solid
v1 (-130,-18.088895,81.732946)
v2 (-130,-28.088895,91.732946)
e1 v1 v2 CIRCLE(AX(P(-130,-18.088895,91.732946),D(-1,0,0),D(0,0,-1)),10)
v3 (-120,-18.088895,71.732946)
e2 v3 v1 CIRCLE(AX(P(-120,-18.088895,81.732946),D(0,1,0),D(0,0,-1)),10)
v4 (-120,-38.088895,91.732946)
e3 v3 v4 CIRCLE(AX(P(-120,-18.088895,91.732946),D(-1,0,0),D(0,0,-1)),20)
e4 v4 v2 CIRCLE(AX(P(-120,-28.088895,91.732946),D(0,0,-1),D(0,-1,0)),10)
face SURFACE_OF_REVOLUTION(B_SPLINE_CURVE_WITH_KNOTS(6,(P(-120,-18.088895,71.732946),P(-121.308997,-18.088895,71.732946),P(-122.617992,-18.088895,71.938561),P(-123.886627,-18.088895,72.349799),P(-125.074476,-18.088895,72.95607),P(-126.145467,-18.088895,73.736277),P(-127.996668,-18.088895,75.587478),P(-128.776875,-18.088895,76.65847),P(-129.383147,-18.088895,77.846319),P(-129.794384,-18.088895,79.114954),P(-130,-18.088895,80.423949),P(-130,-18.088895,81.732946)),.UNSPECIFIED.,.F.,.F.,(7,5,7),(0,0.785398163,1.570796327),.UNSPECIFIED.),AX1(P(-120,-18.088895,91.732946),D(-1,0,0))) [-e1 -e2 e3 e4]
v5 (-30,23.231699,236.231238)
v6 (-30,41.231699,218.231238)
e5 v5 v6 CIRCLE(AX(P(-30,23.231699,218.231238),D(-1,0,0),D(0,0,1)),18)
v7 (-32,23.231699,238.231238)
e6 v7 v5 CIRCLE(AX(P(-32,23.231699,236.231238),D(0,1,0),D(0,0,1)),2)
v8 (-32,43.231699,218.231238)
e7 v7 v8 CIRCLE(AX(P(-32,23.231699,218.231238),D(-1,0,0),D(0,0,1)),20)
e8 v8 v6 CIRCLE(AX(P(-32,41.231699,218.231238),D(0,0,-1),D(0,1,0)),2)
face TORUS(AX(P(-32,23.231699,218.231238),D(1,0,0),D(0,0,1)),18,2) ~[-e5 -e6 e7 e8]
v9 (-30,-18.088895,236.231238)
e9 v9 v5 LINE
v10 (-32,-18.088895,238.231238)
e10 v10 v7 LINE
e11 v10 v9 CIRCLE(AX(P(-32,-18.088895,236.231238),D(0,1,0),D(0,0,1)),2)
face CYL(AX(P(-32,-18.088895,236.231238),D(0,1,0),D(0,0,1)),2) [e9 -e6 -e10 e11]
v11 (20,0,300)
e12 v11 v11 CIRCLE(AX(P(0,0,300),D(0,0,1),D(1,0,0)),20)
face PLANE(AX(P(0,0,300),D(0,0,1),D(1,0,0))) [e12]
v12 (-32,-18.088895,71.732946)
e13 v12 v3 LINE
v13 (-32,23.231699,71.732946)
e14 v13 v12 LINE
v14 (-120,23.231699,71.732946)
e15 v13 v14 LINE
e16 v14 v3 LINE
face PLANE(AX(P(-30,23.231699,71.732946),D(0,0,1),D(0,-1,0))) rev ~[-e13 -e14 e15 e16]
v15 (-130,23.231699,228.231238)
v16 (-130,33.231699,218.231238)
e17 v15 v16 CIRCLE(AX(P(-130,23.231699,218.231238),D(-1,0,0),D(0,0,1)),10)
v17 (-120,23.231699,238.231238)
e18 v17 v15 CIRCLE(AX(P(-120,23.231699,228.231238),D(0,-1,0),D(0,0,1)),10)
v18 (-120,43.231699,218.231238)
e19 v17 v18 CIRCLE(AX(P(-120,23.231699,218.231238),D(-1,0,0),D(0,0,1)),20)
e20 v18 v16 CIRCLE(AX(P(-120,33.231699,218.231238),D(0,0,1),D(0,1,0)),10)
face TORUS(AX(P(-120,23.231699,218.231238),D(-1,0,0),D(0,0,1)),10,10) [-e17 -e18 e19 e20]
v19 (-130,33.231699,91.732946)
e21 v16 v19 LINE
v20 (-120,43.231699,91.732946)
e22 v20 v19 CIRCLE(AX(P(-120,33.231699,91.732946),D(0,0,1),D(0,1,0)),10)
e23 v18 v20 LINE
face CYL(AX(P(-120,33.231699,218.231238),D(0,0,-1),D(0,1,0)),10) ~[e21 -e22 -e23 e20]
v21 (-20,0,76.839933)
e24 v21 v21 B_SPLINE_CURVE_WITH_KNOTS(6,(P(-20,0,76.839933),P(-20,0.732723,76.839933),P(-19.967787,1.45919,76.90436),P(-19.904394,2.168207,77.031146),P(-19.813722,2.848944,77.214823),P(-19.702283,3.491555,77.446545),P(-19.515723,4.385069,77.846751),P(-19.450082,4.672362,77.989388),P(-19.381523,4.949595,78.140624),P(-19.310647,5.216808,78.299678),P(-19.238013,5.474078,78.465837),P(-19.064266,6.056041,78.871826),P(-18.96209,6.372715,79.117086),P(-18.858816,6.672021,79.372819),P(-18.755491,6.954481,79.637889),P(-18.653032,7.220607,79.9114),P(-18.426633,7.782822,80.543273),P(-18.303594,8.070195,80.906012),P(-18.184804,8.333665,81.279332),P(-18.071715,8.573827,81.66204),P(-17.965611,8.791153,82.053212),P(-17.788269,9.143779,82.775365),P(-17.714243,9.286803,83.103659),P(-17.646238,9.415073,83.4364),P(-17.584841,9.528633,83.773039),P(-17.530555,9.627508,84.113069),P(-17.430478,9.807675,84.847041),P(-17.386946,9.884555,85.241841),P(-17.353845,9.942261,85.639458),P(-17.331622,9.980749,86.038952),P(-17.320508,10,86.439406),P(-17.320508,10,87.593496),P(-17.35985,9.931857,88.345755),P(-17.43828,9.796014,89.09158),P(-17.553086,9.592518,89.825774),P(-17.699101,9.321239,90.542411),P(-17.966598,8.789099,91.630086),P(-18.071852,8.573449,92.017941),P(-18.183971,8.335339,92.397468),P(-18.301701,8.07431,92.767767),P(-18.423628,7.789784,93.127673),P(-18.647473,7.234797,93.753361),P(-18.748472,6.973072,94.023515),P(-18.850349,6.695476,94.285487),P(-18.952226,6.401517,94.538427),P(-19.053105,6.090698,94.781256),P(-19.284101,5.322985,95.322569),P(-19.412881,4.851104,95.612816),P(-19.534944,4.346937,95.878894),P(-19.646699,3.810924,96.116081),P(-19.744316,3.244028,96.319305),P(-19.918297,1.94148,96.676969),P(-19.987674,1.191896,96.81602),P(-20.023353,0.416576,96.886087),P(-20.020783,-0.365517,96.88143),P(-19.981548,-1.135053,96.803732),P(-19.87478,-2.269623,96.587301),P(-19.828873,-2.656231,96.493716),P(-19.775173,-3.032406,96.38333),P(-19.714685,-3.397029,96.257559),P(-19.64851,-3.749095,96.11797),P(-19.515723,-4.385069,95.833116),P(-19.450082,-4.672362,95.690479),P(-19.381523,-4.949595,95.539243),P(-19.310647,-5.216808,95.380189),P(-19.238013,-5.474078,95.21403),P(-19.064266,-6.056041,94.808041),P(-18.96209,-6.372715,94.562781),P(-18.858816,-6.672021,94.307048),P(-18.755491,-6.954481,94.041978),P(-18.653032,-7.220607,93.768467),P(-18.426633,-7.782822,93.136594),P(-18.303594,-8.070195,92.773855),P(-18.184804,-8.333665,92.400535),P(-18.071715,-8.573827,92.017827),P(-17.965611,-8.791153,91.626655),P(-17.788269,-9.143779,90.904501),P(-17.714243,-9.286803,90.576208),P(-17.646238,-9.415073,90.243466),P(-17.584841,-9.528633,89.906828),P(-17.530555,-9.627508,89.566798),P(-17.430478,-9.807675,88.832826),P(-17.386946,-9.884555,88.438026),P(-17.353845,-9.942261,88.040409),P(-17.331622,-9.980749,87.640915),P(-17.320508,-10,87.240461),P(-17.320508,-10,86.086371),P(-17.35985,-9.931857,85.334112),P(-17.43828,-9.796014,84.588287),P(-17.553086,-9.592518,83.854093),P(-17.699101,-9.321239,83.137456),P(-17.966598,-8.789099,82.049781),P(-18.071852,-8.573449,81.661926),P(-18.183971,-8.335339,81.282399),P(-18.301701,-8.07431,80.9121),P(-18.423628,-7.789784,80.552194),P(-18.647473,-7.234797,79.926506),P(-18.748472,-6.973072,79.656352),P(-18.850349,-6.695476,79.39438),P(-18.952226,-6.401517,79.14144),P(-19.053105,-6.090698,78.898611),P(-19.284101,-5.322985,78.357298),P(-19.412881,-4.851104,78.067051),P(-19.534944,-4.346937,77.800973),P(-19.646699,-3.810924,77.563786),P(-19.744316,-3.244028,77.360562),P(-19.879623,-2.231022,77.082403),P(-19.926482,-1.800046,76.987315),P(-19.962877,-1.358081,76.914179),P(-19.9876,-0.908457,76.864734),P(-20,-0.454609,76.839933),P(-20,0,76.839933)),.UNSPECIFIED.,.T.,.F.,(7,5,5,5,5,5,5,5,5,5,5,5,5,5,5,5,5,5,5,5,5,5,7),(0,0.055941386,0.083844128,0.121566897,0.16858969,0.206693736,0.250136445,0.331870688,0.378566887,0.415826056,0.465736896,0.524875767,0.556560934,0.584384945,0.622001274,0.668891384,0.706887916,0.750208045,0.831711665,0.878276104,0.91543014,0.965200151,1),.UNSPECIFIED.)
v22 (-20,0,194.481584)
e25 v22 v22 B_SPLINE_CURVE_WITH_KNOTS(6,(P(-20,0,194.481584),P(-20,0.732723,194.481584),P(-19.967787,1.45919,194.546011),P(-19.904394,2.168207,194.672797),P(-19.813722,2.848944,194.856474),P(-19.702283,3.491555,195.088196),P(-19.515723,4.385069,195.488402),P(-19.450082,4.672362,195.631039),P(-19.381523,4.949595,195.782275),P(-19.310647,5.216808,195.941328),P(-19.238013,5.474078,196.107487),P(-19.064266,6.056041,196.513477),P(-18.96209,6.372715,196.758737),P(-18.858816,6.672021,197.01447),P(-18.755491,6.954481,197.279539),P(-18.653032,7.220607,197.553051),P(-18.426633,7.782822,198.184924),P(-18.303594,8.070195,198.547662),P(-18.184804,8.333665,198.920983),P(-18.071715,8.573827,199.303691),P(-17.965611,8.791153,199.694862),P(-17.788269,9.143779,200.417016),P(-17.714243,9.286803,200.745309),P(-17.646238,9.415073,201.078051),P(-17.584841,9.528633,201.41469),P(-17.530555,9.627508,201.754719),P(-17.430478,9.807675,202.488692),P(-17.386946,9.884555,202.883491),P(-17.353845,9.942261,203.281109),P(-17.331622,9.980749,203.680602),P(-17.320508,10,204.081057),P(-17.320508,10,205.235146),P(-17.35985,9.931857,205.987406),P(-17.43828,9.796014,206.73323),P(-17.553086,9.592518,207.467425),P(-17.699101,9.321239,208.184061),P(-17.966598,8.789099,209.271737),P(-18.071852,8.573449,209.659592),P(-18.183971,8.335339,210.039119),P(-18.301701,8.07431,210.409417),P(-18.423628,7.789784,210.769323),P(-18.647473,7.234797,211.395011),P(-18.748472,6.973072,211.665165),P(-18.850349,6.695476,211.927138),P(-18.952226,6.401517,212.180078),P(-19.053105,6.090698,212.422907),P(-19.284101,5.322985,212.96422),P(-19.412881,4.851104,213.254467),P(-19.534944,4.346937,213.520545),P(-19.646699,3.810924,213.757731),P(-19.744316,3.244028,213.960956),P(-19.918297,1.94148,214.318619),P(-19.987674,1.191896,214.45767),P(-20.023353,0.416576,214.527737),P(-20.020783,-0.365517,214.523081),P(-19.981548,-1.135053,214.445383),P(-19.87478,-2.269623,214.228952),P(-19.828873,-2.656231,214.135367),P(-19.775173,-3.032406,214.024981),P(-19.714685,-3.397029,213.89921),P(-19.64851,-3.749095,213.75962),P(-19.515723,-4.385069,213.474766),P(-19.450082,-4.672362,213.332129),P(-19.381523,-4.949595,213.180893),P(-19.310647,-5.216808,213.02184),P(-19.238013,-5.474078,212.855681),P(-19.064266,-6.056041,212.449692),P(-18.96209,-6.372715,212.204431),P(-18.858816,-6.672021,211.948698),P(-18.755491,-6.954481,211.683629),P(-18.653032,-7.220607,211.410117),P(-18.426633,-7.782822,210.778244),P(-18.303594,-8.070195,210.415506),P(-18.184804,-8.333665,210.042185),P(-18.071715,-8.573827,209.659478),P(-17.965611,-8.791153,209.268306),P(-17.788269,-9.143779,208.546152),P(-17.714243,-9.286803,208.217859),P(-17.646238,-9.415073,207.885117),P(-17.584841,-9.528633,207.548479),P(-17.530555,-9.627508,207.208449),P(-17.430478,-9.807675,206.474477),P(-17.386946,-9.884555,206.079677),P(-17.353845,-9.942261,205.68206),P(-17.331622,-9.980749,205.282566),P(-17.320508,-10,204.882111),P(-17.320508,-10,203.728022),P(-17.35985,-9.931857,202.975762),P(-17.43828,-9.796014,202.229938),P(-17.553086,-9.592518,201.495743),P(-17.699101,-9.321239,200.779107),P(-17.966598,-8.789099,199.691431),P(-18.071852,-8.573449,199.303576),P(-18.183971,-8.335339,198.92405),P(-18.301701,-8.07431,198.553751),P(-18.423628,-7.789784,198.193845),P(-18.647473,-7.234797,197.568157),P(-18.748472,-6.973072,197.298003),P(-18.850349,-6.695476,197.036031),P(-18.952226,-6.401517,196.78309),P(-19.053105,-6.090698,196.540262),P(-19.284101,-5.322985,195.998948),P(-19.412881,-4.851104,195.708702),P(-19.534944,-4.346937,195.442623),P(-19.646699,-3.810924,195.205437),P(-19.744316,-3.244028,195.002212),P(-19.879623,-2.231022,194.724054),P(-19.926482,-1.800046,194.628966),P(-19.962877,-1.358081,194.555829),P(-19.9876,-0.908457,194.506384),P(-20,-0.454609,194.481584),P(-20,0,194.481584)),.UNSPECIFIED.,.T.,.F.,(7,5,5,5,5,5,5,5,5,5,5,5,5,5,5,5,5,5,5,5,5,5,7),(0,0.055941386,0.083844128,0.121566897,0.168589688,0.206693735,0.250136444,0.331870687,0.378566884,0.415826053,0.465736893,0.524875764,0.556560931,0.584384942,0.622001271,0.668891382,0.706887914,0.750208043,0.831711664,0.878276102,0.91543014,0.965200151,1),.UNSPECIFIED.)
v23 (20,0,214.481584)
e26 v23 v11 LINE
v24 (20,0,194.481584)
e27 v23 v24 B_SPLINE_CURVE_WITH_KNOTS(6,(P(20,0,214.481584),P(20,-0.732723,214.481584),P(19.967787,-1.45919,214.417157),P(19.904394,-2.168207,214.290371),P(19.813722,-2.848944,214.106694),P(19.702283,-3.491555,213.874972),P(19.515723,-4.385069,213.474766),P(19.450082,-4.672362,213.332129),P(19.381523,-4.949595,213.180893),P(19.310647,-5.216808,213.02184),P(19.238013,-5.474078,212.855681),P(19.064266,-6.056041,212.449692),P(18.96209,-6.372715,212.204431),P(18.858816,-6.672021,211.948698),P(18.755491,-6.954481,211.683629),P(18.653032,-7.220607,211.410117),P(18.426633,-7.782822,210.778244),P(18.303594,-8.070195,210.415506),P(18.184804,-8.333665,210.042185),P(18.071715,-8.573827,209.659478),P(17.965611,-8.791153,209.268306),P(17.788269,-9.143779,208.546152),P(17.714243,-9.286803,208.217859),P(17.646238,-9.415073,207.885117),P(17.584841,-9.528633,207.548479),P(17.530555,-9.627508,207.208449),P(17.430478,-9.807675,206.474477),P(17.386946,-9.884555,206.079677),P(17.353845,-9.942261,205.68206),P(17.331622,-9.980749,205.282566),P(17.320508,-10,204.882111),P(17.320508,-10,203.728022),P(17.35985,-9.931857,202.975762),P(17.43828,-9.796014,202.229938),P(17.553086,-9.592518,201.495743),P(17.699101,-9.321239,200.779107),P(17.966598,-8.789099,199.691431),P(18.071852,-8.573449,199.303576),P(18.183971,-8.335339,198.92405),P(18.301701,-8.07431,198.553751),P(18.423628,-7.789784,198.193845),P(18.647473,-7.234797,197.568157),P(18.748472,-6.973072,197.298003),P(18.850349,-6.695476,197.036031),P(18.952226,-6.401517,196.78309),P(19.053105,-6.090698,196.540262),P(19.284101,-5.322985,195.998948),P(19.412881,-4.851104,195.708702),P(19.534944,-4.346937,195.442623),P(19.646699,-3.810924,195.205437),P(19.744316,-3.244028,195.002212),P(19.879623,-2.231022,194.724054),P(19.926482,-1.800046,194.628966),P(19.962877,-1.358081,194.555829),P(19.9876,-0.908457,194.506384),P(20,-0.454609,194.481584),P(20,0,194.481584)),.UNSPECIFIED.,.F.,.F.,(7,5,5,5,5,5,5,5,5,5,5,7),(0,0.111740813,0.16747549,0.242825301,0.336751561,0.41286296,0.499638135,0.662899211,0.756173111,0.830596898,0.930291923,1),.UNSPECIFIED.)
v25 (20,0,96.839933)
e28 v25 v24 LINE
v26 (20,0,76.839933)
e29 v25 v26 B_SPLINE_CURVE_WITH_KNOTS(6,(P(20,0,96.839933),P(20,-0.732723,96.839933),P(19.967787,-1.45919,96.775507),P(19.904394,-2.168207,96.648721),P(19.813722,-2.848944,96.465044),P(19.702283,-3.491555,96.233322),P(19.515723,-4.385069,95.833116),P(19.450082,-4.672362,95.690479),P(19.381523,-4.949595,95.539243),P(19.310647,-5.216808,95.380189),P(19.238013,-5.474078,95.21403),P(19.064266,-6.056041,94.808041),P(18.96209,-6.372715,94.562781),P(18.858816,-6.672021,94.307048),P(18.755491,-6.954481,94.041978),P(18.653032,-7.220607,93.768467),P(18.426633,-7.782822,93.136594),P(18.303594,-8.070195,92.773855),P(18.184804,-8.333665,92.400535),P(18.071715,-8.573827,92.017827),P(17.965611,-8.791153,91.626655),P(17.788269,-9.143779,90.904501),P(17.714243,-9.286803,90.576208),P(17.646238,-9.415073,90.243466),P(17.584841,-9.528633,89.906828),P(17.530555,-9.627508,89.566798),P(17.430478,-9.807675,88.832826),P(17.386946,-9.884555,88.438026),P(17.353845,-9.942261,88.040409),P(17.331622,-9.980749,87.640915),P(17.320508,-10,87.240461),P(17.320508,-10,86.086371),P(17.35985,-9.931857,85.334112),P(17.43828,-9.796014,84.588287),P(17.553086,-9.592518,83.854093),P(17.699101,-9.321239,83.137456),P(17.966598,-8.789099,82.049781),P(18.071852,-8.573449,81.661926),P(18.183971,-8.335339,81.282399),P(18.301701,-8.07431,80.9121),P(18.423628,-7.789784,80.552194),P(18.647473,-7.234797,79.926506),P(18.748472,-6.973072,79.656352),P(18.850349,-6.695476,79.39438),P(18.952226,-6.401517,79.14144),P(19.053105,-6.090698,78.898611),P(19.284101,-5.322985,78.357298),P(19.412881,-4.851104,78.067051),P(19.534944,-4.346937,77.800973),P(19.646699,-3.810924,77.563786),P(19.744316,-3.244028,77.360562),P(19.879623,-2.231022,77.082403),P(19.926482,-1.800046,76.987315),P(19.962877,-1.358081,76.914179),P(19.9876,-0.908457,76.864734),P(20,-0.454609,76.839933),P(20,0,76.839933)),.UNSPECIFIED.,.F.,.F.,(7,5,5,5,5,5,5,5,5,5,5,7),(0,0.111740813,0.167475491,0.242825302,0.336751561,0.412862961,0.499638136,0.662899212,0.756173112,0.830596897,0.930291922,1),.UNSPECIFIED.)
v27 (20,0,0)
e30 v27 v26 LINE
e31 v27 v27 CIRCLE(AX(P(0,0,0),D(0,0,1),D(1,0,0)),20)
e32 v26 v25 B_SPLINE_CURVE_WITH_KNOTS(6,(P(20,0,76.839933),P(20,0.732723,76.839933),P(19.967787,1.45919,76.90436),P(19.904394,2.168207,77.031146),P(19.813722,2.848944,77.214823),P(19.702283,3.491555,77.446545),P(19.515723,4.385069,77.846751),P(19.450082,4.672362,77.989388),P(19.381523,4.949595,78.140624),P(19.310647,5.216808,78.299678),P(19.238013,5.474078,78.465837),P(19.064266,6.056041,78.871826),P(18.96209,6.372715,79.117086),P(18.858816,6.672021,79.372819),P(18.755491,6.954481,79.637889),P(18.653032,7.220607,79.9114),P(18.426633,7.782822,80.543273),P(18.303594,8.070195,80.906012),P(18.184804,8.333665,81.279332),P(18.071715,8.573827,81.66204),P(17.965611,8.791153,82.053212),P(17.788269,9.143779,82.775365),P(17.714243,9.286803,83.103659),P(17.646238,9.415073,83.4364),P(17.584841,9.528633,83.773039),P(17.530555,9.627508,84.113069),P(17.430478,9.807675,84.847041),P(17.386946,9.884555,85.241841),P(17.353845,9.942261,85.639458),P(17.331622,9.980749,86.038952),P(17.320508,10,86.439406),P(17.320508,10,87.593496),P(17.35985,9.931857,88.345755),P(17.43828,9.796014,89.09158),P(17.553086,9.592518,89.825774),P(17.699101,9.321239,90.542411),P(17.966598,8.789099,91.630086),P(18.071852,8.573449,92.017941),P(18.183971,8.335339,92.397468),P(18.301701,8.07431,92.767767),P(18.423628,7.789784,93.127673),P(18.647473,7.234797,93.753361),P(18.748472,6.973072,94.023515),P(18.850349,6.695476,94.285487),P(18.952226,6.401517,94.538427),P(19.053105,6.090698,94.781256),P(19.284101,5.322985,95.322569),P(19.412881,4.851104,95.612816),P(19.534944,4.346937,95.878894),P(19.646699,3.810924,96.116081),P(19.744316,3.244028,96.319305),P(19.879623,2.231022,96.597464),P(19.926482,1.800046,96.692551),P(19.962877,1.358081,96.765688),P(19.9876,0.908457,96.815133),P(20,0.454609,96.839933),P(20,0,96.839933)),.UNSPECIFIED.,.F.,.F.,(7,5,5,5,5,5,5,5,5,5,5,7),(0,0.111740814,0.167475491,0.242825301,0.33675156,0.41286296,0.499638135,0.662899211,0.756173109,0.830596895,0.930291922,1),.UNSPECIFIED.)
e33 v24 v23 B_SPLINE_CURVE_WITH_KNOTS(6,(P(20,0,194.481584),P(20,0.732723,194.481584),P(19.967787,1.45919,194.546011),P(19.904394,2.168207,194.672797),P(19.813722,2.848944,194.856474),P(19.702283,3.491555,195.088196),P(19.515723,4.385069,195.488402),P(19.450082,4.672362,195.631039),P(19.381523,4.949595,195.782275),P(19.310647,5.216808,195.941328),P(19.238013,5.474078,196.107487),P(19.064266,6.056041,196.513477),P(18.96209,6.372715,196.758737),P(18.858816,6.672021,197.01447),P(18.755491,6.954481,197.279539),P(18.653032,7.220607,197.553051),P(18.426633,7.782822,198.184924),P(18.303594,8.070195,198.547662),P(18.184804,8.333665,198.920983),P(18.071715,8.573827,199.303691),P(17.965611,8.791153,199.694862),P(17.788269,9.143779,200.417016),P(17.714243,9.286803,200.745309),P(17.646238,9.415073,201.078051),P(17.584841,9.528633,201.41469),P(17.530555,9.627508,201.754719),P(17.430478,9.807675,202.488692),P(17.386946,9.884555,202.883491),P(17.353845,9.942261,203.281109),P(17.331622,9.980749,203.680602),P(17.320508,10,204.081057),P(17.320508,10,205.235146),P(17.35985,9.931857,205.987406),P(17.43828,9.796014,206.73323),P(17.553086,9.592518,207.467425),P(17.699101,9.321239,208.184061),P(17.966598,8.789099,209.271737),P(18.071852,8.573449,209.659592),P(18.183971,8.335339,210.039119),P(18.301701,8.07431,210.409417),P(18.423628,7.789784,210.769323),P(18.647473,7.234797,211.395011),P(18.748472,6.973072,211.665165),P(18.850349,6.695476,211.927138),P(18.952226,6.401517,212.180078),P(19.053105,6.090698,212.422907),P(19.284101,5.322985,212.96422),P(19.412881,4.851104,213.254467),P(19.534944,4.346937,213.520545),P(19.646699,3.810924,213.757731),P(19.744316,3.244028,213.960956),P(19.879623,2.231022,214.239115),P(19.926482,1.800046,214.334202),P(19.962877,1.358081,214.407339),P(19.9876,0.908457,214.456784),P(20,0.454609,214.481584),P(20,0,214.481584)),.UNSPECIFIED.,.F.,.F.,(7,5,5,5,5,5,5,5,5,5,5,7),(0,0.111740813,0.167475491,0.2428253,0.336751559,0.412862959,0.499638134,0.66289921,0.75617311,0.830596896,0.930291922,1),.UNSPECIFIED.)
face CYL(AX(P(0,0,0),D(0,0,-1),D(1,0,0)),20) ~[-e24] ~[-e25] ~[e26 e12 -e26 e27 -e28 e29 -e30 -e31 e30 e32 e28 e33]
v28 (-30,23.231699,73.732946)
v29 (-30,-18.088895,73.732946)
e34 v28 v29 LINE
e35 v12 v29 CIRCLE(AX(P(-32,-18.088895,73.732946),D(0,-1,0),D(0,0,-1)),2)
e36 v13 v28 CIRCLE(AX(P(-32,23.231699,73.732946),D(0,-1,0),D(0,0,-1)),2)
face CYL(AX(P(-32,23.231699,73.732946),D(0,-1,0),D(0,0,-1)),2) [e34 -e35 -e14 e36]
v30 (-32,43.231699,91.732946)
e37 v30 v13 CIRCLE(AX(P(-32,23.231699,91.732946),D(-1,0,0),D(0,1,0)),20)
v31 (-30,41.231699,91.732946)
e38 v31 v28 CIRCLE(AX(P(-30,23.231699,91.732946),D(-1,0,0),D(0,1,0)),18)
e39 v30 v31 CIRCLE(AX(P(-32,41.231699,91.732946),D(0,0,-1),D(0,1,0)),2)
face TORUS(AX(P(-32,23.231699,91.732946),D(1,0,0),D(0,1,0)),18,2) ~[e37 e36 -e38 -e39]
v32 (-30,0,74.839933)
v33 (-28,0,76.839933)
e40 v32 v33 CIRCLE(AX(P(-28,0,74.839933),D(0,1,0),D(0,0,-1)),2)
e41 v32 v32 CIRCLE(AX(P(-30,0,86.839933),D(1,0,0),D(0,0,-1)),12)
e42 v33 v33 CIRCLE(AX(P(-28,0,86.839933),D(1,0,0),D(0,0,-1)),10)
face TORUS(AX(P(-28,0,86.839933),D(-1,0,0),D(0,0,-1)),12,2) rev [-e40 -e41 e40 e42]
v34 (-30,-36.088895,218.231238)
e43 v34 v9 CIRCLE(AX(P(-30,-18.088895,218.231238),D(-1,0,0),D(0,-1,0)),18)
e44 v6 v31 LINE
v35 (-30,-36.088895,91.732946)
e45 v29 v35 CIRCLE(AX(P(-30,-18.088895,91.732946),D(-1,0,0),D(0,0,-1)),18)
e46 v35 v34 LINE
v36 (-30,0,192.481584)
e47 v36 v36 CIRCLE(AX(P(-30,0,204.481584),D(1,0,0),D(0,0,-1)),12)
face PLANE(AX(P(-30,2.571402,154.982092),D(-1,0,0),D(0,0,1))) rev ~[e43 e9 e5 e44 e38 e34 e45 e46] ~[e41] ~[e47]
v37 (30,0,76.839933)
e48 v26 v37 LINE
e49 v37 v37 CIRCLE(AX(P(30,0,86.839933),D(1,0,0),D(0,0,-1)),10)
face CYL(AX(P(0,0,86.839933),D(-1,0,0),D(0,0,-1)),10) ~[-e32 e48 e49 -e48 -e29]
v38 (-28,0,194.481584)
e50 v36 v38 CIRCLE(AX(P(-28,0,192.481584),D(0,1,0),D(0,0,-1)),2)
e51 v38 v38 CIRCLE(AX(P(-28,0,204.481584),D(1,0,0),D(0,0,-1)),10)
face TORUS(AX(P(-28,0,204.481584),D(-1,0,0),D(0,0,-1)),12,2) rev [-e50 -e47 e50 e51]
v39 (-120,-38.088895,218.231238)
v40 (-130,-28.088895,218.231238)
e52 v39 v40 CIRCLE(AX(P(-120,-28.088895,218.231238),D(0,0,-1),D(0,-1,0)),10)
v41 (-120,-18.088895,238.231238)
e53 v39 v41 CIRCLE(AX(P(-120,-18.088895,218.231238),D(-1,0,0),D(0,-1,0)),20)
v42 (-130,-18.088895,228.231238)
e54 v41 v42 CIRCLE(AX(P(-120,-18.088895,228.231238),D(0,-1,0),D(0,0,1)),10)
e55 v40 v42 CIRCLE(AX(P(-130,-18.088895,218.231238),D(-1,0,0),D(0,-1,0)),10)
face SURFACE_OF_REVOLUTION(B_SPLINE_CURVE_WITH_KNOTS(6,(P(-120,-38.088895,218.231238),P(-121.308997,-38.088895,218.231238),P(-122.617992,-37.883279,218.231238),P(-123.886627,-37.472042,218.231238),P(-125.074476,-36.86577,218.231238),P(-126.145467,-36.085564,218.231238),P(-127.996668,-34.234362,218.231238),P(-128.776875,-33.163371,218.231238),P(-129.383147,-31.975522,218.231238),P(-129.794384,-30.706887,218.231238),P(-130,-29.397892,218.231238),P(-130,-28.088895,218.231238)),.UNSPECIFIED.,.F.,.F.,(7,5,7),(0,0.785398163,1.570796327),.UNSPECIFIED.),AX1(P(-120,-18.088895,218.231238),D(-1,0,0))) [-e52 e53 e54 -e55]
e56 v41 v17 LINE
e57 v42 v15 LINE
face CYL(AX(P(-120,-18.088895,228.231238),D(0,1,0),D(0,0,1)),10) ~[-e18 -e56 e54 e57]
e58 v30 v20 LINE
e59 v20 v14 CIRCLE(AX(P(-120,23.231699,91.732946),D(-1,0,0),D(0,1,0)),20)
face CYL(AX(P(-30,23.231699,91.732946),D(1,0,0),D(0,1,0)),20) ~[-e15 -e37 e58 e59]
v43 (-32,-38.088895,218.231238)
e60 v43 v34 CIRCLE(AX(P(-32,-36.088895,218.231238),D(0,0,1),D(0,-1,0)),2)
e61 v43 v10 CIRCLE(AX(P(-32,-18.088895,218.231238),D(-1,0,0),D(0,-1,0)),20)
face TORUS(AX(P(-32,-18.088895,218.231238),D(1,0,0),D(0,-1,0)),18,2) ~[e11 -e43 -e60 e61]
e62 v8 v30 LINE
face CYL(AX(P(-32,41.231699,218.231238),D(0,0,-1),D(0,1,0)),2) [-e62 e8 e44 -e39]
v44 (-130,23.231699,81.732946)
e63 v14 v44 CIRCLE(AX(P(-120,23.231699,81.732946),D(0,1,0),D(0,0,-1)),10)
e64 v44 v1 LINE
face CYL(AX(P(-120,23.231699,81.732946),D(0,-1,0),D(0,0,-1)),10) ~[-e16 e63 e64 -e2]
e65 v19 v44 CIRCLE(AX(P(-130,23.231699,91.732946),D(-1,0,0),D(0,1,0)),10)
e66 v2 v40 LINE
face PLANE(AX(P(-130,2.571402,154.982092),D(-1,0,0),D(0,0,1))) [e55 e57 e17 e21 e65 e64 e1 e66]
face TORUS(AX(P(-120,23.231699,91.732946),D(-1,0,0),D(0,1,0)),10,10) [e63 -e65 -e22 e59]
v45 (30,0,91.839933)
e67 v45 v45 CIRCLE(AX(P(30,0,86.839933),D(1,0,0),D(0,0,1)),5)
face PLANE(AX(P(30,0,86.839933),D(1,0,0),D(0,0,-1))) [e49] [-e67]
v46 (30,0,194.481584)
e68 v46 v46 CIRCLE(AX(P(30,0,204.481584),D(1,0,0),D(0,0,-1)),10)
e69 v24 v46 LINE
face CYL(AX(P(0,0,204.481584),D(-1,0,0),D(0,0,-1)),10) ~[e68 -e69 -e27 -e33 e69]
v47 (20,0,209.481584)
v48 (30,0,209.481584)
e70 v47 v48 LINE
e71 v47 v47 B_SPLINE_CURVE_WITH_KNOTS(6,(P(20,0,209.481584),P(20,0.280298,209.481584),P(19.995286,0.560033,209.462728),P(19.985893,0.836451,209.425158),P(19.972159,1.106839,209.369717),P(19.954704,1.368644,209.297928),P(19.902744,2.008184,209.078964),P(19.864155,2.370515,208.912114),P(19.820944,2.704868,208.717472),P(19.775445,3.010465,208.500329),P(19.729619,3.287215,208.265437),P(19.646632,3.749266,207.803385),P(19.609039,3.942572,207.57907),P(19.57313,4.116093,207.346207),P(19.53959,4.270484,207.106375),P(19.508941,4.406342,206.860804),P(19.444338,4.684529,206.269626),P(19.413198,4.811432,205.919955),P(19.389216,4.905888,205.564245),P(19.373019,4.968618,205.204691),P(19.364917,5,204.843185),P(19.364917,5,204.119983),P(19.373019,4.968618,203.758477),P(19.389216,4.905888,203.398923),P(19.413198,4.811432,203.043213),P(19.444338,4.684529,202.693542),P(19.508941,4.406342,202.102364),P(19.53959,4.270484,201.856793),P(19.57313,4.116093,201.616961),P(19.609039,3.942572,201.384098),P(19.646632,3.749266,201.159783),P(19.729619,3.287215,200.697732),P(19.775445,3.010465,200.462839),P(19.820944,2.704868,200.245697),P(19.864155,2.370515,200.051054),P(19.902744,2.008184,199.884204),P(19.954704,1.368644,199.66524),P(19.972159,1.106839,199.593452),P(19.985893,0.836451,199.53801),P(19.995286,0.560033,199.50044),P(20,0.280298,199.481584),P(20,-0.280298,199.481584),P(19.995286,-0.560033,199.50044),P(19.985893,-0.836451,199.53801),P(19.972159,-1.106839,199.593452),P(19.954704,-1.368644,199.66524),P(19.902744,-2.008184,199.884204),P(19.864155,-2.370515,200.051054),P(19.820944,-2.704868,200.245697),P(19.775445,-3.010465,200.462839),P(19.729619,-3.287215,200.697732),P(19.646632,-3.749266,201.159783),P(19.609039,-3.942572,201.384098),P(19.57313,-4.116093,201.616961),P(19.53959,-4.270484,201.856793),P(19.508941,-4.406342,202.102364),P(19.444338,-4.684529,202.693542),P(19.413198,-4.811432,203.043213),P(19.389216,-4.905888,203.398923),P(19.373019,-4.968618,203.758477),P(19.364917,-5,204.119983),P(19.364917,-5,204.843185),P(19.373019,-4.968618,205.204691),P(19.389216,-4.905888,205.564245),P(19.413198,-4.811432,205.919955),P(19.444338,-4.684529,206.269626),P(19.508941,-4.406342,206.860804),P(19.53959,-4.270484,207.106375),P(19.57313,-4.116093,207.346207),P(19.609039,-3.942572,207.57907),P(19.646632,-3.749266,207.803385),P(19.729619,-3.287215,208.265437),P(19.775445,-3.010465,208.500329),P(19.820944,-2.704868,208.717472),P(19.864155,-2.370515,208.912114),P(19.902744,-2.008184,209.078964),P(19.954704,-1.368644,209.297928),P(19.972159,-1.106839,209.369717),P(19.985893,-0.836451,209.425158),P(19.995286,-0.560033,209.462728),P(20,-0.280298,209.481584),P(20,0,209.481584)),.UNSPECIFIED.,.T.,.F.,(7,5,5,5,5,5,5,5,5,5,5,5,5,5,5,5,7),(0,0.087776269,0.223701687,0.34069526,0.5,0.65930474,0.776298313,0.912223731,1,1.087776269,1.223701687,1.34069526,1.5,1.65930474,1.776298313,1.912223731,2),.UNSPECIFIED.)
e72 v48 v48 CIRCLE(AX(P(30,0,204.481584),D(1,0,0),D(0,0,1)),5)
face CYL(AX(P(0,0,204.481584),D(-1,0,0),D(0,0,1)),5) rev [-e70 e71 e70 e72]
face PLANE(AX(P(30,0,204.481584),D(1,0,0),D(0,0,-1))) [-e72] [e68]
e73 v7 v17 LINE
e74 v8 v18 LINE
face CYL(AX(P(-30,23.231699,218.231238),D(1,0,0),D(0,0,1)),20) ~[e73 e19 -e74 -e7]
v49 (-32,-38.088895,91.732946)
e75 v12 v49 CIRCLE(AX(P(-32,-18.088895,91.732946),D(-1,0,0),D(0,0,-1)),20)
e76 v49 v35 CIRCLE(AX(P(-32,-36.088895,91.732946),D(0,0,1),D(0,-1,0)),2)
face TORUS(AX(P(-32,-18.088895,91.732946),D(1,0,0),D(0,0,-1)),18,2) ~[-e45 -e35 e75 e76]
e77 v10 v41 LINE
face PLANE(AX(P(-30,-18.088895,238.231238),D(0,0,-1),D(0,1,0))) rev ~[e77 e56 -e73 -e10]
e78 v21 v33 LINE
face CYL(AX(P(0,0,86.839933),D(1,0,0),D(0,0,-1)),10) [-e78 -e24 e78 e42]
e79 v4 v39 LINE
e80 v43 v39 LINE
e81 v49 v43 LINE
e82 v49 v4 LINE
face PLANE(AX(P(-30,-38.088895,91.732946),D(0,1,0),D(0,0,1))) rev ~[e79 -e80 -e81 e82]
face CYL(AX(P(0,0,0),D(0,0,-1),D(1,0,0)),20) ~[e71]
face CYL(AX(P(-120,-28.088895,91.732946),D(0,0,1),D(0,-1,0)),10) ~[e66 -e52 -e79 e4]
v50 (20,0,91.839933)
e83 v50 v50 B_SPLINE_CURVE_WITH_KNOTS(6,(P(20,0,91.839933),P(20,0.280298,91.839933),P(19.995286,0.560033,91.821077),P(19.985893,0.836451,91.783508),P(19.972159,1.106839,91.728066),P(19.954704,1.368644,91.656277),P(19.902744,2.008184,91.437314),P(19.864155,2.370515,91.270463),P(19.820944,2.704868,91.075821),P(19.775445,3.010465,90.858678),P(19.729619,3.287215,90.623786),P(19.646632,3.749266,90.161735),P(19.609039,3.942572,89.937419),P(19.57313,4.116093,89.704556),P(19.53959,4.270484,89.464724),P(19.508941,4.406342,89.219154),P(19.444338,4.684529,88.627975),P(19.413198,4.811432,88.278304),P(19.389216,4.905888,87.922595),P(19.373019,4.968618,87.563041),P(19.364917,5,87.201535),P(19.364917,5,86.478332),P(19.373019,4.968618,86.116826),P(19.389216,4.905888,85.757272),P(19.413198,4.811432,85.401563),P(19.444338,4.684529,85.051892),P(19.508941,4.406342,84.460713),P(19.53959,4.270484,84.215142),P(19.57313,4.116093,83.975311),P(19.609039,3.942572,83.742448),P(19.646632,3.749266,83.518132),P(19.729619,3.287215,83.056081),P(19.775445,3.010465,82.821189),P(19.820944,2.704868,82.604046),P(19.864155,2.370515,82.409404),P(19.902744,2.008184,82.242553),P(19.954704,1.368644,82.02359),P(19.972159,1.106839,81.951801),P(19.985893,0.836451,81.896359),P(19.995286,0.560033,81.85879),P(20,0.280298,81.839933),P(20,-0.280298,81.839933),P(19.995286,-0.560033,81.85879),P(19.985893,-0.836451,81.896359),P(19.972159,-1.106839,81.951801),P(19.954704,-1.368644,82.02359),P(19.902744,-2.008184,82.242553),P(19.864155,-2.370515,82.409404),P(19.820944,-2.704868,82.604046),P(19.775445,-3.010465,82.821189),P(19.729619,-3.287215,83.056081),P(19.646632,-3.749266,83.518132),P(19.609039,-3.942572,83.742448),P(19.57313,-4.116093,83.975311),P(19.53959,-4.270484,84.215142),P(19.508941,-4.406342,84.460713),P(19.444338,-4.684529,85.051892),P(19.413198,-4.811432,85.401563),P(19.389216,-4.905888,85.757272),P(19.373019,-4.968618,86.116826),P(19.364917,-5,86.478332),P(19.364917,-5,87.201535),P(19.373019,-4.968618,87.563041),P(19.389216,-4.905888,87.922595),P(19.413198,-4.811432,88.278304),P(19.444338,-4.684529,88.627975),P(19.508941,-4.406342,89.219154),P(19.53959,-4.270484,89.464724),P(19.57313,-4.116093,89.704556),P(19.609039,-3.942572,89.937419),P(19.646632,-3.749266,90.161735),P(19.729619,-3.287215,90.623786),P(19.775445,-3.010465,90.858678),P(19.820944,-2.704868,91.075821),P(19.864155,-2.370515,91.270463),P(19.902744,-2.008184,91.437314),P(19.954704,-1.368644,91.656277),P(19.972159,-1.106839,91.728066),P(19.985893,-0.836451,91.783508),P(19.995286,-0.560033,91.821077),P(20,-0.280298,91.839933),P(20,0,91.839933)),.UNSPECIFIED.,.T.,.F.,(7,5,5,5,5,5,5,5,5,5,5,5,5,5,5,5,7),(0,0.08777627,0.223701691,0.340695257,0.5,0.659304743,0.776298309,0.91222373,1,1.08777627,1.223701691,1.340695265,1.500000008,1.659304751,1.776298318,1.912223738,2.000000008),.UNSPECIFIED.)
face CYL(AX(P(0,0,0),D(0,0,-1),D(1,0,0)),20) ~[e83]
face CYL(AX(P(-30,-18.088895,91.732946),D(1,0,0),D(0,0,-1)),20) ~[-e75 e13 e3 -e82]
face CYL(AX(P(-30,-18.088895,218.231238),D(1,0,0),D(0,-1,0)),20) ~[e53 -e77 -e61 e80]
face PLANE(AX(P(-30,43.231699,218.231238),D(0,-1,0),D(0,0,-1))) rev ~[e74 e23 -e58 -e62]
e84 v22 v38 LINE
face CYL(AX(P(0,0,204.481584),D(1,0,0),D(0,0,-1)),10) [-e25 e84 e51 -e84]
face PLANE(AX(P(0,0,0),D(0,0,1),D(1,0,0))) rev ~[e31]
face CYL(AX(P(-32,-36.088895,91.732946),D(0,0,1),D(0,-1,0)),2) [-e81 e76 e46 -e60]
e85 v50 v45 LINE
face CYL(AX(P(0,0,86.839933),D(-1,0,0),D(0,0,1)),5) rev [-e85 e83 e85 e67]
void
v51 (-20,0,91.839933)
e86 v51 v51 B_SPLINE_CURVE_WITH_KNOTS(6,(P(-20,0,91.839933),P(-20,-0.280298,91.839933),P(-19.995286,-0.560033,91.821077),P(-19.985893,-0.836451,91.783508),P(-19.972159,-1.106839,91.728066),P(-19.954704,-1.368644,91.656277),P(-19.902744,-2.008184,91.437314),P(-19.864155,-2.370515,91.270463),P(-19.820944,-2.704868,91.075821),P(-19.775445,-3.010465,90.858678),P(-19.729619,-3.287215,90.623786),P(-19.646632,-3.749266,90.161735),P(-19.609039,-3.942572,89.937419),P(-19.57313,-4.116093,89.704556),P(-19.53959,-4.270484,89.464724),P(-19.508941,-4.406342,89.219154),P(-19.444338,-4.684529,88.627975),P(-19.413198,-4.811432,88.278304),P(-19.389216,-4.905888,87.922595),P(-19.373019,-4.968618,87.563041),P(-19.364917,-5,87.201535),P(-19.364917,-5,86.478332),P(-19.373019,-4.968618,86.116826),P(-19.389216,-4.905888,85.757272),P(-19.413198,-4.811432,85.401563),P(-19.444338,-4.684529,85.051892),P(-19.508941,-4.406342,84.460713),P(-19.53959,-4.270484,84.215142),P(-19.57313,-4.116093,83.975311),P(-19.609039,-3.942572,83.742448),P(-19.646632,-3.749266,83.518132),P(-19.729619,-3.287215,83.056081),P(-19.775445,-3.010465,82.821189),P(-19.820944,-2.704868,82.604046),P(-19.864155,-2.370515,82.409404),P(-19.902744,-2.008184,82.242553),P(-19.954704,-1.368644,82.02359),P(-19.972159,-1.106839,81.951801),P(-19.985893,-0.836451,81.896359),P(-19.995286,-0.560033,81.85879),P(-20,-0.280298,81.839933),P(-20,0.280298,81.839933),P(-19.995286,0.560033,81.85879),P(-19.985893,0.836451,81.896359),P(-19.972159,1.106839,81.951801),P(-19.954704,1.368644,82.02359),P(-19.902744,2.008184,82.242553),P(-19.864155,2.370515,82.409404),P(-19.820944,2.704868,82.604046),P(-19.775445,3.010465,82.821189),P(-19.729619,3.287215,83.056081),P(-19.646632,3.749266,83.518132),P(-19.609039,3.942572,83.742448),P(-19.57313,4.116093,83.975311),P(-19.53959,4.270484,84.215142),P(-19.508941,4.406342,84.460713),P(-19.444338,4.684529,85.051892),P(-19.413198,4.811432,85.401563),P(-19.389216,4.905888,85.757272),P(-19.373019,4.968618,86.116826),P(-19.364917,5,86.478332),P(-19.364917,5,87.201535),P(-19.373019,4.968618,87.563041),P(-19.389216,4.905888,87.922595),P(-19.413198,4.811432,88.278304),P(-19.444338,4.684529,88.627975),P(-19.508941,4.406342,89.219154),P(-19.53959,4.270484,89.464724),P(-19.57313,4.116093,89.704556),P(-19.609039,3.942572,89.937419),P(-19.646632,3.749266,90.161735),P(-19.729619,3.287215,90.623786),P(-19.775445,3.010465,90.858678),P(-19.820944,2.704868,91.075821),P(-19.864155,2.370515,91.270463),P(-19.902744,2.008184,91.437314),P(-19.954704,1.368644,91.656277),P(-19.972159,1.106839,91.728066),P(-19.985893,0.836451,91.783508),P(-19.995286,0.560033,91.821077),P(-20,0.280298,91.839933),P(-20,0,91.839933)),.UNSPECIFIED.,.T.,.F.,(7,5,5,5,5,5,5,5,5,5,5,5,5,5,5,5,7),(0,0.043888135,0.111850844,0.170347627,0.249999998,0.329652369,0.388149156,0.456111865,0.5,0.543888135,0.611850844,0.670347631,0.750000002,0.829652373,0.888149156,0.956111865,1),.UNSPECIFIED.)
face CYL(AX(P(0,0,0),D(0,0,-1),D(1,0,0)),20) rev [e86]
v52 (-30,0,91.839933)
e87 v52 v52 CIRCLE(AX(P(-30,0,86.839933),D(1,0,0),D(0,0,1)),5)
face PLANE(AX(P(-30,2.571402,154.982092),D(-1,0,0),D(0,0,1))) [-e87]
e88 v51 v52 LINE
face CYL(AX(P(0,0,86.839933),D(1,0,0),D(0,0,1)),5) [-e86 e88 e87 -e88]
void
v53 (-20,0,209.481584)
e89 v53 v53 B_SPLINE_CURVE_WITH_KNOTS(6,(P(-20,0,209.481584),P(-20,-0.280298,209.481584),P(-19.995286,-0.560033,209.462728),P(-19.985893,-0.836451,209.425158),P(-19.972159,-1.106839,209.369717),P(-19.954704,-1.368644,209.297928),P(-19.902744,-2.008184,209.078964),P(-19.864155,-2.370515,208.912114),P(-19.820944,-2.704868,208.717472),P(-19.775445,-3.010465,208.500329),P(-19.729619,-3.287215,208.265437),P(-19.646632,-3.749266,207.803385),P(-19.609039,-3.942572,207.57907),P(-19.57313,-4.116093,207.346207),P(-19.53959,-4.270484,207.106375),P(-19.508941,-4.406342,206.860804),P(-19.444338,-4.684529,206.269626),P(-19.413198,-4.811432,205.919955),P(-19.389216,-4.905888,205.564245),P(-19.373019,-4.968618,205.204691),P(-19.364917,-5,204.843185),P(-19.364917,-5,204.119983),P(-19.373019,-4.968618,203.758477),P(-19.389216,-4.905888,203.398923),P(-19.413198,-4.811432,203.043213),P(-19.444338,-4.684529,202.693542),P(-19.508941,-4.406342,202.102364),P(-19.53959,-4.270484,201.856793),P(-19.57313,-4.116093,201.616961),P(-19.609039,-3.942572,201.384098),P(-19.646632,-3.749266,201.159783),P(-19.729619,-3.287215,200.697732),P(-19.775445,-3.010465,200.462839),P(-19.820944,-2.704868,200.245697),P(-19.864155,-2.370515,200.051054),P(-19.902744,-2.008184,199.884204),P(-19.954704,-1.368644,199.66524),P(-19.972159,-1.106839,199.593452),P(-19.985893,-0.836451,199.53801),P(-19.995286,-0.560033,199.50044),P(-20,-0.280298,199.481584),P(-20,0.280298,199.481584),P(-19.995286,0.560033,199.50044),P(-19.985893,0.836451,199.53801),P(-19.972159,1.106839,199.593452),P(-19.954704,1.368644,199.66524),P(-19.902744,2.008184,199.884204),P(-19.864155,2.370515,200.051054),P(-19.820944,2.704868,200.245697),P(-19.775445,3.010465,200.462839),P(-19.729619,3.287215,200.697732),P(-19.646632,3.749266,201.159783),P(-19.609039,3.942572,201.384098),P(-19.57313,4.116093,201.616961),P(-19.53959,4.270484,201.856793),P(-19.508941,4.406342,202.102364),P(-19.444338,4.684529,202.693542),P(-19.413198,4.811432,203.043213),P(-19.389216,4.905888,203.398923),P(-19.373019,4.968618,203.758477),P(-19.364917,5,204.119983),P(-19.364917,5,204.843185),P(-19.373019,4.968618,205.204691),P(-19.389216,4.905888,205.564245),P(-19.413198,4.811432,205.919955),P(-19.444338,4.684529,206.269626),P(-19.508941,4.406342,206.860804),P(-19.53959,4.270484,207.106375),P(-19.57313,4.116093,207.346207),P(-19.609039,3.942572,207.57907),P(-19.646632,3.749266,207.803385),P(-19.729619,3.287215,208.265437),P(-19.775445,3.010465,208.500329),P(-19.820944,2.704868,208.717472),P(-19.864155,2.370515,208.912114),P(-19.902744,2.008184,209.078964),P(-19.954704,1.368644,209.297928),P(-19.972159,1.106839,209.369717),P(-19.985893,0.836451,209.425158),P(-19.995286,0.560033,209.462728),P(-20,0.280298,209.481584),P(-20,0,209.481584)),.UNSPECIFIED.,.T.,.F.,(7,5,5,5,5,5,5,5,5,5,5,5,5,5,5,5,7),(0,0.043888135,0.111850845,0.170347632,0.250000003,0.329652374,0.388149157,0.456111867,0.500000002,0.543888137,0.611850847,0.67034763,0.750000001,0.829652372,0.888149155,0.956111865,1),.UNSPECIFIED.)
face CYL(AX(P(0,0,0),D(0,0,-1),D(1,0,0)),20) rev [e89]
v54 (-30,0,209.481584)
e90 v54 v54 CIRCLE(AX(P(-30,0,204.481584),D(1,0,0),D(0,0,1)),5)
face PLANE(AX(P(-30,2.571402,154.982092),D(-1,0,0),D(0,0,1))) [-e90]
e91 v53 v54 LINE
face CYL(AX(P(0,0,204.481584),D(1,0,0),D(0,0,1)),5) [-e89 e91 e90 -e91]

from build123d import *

# Parameters (mm, degrees)
SZKIC1_R                    = 20
DODANIE_WYCI_GNI_CIE1_DEPTH = 300
SZKIC2_R                    = 10
SZKIC2_R_2                  = 5
DODANIE_WYCI_GNI_CIE2_DEPTH = 30
DODANIE_WYCI_GNI_CIE3_DEPTH = 100
ZAOKR_GLENIE1_R             = 10
ZAOKR_GLENIE2_R             = 2


with BuildPart() as part:
    # Szkic1 → Dodanie-wyciągnięcie1 (new body)
    with BuildSketch(Plane.XY):
        Circle(SZKIC1_R)
    extrude(amount=DODANIE_WYCI_GNI_CIE1_DEPTH)

    # Szkic2 → Dodanie-wyciągnięcie2 (add)
    # profile 1 of 2: a face of its own
    with BuildSketch(Plane(origin=(0, 0, 0), x_dir=(0, 0, -1), z_dir=(1, 0, 0))):
        with Locations((-204.481584116, 0)):
            Circle(SZKIC2_R)
        with Locations(Location((-204.481584116, 0, 0), (0, 0, 180))):
            Circle(SZKIC2_R_2, mode=Mode.SUBTRACT)
    # profile 2 of 2: a face of its own
    with BuildSketch(Plane(origin=(0, 0, 0), x_dir=(0, 0, -1), z_dir=(1, 0, 0))):
        with Locations((-86.839933458, 0)):
            Circle(SZKIC2_R)
        with Locations(Location((-86.839933458, 0, 0), (0, 0, 180))):
            Circle(SZKIC2_R_2, mode=Mode.SUBTRACT)
    dodanie_wyci_gni_cie2 = extrude(amount=DODANIE_WYCI_GNI_CIE2_DEPTH)

    # Lustro1: Dodanie-wyciągnięcie2 across plane
    add(dodanie_wyci_gni_cie2.mirror(Plane(origin=(0, 0, 0), x_dir=(0, 0, 1), z_dir=(1, 0, 0))))

    # Szkic3 → Dodanie-wyciągnięcie3 (add)
    with BuildSketch(Plane.ZY.offset(30)):
        with BuildLine():
            Line((91.732945532, -38.08889509), (218.231237994, -38.08889509))
            ThreePointArc((218.231237994, -38.08889509), (232.373373618, -32.231030714), (238.231237994, -18.08889509))
            Line((238.231237994, -18.08889509), (238.231237994, 23.231699491))
            ThreePointArc((238.231237994, 23.231699491), (232.373373618, 37.373835114), (218.231237994, 43.231699491))
            Line((218.231237994, 43.231699491), (91.732945532, 43.231699491))
            ThreePointArc((91.732945532, 43.231699491), (77.590809908, 37.373835114), (71.732945532, 23.231699491))
            Line((71.732945532, 23.231699491), (71.732945532, -18.08889509))
            ThreePointArc((71.732945532, -18.08889509), (77.590809908, -32.231030714), (91.732945532, -38.08889509))
        make_face()
    extrude(amount=DODANIE_WYCI_GNI_CIE3_DEPTH)

    # Zaokrąglenie1
    zaokr_glenie1_edges = [part.edges().sort_by_distance(p)[0] for p in [
        (-130, -32.231030714, 77.590809908),
        (-130, -38.08889509, 154.982091763),
        (-130, -32.231030714, 232.373373618),
        (-130, 2.5714022, 238.231237994),
        (-130, 37.373835114, 232.373373618),
        (-130, 43.231699491, 154.982091763),
        (-130, 37.373835114, 77.590809908),
        (-130, 2.5714022, 71.732945532),
    ]]
    fillet(zaokr_glenie1_edges, radius=ZAOKR_GLENIE1_R)

    # Zaokrąglenie2
    zaokr_glenie2_edges = [part.edges().sort_by_distance(p)[0] for p in [
        (-30, 0, 214.481584116),
        (-30, 0, 96.839933458),
        (-30, -32.231030714, 77.590809908),
        (-30, -38.08889509, 154.982091763),
        (-30, -32.231030714, 232.373373618),
        (-30, 2.5714022, 238.231237994),
        (-30, 37.373835114, 232.373373618),
        (-30, 43.231699491, 154.982091763),
        (-30, 37.373835114, 77.590809908),
        (-30, 2.5714022, 71.732945532),
    ]]
    fillet(zaokr_glenie2_edges, radius=ZAOKR_GLENIE2_R)


solid = part.part
